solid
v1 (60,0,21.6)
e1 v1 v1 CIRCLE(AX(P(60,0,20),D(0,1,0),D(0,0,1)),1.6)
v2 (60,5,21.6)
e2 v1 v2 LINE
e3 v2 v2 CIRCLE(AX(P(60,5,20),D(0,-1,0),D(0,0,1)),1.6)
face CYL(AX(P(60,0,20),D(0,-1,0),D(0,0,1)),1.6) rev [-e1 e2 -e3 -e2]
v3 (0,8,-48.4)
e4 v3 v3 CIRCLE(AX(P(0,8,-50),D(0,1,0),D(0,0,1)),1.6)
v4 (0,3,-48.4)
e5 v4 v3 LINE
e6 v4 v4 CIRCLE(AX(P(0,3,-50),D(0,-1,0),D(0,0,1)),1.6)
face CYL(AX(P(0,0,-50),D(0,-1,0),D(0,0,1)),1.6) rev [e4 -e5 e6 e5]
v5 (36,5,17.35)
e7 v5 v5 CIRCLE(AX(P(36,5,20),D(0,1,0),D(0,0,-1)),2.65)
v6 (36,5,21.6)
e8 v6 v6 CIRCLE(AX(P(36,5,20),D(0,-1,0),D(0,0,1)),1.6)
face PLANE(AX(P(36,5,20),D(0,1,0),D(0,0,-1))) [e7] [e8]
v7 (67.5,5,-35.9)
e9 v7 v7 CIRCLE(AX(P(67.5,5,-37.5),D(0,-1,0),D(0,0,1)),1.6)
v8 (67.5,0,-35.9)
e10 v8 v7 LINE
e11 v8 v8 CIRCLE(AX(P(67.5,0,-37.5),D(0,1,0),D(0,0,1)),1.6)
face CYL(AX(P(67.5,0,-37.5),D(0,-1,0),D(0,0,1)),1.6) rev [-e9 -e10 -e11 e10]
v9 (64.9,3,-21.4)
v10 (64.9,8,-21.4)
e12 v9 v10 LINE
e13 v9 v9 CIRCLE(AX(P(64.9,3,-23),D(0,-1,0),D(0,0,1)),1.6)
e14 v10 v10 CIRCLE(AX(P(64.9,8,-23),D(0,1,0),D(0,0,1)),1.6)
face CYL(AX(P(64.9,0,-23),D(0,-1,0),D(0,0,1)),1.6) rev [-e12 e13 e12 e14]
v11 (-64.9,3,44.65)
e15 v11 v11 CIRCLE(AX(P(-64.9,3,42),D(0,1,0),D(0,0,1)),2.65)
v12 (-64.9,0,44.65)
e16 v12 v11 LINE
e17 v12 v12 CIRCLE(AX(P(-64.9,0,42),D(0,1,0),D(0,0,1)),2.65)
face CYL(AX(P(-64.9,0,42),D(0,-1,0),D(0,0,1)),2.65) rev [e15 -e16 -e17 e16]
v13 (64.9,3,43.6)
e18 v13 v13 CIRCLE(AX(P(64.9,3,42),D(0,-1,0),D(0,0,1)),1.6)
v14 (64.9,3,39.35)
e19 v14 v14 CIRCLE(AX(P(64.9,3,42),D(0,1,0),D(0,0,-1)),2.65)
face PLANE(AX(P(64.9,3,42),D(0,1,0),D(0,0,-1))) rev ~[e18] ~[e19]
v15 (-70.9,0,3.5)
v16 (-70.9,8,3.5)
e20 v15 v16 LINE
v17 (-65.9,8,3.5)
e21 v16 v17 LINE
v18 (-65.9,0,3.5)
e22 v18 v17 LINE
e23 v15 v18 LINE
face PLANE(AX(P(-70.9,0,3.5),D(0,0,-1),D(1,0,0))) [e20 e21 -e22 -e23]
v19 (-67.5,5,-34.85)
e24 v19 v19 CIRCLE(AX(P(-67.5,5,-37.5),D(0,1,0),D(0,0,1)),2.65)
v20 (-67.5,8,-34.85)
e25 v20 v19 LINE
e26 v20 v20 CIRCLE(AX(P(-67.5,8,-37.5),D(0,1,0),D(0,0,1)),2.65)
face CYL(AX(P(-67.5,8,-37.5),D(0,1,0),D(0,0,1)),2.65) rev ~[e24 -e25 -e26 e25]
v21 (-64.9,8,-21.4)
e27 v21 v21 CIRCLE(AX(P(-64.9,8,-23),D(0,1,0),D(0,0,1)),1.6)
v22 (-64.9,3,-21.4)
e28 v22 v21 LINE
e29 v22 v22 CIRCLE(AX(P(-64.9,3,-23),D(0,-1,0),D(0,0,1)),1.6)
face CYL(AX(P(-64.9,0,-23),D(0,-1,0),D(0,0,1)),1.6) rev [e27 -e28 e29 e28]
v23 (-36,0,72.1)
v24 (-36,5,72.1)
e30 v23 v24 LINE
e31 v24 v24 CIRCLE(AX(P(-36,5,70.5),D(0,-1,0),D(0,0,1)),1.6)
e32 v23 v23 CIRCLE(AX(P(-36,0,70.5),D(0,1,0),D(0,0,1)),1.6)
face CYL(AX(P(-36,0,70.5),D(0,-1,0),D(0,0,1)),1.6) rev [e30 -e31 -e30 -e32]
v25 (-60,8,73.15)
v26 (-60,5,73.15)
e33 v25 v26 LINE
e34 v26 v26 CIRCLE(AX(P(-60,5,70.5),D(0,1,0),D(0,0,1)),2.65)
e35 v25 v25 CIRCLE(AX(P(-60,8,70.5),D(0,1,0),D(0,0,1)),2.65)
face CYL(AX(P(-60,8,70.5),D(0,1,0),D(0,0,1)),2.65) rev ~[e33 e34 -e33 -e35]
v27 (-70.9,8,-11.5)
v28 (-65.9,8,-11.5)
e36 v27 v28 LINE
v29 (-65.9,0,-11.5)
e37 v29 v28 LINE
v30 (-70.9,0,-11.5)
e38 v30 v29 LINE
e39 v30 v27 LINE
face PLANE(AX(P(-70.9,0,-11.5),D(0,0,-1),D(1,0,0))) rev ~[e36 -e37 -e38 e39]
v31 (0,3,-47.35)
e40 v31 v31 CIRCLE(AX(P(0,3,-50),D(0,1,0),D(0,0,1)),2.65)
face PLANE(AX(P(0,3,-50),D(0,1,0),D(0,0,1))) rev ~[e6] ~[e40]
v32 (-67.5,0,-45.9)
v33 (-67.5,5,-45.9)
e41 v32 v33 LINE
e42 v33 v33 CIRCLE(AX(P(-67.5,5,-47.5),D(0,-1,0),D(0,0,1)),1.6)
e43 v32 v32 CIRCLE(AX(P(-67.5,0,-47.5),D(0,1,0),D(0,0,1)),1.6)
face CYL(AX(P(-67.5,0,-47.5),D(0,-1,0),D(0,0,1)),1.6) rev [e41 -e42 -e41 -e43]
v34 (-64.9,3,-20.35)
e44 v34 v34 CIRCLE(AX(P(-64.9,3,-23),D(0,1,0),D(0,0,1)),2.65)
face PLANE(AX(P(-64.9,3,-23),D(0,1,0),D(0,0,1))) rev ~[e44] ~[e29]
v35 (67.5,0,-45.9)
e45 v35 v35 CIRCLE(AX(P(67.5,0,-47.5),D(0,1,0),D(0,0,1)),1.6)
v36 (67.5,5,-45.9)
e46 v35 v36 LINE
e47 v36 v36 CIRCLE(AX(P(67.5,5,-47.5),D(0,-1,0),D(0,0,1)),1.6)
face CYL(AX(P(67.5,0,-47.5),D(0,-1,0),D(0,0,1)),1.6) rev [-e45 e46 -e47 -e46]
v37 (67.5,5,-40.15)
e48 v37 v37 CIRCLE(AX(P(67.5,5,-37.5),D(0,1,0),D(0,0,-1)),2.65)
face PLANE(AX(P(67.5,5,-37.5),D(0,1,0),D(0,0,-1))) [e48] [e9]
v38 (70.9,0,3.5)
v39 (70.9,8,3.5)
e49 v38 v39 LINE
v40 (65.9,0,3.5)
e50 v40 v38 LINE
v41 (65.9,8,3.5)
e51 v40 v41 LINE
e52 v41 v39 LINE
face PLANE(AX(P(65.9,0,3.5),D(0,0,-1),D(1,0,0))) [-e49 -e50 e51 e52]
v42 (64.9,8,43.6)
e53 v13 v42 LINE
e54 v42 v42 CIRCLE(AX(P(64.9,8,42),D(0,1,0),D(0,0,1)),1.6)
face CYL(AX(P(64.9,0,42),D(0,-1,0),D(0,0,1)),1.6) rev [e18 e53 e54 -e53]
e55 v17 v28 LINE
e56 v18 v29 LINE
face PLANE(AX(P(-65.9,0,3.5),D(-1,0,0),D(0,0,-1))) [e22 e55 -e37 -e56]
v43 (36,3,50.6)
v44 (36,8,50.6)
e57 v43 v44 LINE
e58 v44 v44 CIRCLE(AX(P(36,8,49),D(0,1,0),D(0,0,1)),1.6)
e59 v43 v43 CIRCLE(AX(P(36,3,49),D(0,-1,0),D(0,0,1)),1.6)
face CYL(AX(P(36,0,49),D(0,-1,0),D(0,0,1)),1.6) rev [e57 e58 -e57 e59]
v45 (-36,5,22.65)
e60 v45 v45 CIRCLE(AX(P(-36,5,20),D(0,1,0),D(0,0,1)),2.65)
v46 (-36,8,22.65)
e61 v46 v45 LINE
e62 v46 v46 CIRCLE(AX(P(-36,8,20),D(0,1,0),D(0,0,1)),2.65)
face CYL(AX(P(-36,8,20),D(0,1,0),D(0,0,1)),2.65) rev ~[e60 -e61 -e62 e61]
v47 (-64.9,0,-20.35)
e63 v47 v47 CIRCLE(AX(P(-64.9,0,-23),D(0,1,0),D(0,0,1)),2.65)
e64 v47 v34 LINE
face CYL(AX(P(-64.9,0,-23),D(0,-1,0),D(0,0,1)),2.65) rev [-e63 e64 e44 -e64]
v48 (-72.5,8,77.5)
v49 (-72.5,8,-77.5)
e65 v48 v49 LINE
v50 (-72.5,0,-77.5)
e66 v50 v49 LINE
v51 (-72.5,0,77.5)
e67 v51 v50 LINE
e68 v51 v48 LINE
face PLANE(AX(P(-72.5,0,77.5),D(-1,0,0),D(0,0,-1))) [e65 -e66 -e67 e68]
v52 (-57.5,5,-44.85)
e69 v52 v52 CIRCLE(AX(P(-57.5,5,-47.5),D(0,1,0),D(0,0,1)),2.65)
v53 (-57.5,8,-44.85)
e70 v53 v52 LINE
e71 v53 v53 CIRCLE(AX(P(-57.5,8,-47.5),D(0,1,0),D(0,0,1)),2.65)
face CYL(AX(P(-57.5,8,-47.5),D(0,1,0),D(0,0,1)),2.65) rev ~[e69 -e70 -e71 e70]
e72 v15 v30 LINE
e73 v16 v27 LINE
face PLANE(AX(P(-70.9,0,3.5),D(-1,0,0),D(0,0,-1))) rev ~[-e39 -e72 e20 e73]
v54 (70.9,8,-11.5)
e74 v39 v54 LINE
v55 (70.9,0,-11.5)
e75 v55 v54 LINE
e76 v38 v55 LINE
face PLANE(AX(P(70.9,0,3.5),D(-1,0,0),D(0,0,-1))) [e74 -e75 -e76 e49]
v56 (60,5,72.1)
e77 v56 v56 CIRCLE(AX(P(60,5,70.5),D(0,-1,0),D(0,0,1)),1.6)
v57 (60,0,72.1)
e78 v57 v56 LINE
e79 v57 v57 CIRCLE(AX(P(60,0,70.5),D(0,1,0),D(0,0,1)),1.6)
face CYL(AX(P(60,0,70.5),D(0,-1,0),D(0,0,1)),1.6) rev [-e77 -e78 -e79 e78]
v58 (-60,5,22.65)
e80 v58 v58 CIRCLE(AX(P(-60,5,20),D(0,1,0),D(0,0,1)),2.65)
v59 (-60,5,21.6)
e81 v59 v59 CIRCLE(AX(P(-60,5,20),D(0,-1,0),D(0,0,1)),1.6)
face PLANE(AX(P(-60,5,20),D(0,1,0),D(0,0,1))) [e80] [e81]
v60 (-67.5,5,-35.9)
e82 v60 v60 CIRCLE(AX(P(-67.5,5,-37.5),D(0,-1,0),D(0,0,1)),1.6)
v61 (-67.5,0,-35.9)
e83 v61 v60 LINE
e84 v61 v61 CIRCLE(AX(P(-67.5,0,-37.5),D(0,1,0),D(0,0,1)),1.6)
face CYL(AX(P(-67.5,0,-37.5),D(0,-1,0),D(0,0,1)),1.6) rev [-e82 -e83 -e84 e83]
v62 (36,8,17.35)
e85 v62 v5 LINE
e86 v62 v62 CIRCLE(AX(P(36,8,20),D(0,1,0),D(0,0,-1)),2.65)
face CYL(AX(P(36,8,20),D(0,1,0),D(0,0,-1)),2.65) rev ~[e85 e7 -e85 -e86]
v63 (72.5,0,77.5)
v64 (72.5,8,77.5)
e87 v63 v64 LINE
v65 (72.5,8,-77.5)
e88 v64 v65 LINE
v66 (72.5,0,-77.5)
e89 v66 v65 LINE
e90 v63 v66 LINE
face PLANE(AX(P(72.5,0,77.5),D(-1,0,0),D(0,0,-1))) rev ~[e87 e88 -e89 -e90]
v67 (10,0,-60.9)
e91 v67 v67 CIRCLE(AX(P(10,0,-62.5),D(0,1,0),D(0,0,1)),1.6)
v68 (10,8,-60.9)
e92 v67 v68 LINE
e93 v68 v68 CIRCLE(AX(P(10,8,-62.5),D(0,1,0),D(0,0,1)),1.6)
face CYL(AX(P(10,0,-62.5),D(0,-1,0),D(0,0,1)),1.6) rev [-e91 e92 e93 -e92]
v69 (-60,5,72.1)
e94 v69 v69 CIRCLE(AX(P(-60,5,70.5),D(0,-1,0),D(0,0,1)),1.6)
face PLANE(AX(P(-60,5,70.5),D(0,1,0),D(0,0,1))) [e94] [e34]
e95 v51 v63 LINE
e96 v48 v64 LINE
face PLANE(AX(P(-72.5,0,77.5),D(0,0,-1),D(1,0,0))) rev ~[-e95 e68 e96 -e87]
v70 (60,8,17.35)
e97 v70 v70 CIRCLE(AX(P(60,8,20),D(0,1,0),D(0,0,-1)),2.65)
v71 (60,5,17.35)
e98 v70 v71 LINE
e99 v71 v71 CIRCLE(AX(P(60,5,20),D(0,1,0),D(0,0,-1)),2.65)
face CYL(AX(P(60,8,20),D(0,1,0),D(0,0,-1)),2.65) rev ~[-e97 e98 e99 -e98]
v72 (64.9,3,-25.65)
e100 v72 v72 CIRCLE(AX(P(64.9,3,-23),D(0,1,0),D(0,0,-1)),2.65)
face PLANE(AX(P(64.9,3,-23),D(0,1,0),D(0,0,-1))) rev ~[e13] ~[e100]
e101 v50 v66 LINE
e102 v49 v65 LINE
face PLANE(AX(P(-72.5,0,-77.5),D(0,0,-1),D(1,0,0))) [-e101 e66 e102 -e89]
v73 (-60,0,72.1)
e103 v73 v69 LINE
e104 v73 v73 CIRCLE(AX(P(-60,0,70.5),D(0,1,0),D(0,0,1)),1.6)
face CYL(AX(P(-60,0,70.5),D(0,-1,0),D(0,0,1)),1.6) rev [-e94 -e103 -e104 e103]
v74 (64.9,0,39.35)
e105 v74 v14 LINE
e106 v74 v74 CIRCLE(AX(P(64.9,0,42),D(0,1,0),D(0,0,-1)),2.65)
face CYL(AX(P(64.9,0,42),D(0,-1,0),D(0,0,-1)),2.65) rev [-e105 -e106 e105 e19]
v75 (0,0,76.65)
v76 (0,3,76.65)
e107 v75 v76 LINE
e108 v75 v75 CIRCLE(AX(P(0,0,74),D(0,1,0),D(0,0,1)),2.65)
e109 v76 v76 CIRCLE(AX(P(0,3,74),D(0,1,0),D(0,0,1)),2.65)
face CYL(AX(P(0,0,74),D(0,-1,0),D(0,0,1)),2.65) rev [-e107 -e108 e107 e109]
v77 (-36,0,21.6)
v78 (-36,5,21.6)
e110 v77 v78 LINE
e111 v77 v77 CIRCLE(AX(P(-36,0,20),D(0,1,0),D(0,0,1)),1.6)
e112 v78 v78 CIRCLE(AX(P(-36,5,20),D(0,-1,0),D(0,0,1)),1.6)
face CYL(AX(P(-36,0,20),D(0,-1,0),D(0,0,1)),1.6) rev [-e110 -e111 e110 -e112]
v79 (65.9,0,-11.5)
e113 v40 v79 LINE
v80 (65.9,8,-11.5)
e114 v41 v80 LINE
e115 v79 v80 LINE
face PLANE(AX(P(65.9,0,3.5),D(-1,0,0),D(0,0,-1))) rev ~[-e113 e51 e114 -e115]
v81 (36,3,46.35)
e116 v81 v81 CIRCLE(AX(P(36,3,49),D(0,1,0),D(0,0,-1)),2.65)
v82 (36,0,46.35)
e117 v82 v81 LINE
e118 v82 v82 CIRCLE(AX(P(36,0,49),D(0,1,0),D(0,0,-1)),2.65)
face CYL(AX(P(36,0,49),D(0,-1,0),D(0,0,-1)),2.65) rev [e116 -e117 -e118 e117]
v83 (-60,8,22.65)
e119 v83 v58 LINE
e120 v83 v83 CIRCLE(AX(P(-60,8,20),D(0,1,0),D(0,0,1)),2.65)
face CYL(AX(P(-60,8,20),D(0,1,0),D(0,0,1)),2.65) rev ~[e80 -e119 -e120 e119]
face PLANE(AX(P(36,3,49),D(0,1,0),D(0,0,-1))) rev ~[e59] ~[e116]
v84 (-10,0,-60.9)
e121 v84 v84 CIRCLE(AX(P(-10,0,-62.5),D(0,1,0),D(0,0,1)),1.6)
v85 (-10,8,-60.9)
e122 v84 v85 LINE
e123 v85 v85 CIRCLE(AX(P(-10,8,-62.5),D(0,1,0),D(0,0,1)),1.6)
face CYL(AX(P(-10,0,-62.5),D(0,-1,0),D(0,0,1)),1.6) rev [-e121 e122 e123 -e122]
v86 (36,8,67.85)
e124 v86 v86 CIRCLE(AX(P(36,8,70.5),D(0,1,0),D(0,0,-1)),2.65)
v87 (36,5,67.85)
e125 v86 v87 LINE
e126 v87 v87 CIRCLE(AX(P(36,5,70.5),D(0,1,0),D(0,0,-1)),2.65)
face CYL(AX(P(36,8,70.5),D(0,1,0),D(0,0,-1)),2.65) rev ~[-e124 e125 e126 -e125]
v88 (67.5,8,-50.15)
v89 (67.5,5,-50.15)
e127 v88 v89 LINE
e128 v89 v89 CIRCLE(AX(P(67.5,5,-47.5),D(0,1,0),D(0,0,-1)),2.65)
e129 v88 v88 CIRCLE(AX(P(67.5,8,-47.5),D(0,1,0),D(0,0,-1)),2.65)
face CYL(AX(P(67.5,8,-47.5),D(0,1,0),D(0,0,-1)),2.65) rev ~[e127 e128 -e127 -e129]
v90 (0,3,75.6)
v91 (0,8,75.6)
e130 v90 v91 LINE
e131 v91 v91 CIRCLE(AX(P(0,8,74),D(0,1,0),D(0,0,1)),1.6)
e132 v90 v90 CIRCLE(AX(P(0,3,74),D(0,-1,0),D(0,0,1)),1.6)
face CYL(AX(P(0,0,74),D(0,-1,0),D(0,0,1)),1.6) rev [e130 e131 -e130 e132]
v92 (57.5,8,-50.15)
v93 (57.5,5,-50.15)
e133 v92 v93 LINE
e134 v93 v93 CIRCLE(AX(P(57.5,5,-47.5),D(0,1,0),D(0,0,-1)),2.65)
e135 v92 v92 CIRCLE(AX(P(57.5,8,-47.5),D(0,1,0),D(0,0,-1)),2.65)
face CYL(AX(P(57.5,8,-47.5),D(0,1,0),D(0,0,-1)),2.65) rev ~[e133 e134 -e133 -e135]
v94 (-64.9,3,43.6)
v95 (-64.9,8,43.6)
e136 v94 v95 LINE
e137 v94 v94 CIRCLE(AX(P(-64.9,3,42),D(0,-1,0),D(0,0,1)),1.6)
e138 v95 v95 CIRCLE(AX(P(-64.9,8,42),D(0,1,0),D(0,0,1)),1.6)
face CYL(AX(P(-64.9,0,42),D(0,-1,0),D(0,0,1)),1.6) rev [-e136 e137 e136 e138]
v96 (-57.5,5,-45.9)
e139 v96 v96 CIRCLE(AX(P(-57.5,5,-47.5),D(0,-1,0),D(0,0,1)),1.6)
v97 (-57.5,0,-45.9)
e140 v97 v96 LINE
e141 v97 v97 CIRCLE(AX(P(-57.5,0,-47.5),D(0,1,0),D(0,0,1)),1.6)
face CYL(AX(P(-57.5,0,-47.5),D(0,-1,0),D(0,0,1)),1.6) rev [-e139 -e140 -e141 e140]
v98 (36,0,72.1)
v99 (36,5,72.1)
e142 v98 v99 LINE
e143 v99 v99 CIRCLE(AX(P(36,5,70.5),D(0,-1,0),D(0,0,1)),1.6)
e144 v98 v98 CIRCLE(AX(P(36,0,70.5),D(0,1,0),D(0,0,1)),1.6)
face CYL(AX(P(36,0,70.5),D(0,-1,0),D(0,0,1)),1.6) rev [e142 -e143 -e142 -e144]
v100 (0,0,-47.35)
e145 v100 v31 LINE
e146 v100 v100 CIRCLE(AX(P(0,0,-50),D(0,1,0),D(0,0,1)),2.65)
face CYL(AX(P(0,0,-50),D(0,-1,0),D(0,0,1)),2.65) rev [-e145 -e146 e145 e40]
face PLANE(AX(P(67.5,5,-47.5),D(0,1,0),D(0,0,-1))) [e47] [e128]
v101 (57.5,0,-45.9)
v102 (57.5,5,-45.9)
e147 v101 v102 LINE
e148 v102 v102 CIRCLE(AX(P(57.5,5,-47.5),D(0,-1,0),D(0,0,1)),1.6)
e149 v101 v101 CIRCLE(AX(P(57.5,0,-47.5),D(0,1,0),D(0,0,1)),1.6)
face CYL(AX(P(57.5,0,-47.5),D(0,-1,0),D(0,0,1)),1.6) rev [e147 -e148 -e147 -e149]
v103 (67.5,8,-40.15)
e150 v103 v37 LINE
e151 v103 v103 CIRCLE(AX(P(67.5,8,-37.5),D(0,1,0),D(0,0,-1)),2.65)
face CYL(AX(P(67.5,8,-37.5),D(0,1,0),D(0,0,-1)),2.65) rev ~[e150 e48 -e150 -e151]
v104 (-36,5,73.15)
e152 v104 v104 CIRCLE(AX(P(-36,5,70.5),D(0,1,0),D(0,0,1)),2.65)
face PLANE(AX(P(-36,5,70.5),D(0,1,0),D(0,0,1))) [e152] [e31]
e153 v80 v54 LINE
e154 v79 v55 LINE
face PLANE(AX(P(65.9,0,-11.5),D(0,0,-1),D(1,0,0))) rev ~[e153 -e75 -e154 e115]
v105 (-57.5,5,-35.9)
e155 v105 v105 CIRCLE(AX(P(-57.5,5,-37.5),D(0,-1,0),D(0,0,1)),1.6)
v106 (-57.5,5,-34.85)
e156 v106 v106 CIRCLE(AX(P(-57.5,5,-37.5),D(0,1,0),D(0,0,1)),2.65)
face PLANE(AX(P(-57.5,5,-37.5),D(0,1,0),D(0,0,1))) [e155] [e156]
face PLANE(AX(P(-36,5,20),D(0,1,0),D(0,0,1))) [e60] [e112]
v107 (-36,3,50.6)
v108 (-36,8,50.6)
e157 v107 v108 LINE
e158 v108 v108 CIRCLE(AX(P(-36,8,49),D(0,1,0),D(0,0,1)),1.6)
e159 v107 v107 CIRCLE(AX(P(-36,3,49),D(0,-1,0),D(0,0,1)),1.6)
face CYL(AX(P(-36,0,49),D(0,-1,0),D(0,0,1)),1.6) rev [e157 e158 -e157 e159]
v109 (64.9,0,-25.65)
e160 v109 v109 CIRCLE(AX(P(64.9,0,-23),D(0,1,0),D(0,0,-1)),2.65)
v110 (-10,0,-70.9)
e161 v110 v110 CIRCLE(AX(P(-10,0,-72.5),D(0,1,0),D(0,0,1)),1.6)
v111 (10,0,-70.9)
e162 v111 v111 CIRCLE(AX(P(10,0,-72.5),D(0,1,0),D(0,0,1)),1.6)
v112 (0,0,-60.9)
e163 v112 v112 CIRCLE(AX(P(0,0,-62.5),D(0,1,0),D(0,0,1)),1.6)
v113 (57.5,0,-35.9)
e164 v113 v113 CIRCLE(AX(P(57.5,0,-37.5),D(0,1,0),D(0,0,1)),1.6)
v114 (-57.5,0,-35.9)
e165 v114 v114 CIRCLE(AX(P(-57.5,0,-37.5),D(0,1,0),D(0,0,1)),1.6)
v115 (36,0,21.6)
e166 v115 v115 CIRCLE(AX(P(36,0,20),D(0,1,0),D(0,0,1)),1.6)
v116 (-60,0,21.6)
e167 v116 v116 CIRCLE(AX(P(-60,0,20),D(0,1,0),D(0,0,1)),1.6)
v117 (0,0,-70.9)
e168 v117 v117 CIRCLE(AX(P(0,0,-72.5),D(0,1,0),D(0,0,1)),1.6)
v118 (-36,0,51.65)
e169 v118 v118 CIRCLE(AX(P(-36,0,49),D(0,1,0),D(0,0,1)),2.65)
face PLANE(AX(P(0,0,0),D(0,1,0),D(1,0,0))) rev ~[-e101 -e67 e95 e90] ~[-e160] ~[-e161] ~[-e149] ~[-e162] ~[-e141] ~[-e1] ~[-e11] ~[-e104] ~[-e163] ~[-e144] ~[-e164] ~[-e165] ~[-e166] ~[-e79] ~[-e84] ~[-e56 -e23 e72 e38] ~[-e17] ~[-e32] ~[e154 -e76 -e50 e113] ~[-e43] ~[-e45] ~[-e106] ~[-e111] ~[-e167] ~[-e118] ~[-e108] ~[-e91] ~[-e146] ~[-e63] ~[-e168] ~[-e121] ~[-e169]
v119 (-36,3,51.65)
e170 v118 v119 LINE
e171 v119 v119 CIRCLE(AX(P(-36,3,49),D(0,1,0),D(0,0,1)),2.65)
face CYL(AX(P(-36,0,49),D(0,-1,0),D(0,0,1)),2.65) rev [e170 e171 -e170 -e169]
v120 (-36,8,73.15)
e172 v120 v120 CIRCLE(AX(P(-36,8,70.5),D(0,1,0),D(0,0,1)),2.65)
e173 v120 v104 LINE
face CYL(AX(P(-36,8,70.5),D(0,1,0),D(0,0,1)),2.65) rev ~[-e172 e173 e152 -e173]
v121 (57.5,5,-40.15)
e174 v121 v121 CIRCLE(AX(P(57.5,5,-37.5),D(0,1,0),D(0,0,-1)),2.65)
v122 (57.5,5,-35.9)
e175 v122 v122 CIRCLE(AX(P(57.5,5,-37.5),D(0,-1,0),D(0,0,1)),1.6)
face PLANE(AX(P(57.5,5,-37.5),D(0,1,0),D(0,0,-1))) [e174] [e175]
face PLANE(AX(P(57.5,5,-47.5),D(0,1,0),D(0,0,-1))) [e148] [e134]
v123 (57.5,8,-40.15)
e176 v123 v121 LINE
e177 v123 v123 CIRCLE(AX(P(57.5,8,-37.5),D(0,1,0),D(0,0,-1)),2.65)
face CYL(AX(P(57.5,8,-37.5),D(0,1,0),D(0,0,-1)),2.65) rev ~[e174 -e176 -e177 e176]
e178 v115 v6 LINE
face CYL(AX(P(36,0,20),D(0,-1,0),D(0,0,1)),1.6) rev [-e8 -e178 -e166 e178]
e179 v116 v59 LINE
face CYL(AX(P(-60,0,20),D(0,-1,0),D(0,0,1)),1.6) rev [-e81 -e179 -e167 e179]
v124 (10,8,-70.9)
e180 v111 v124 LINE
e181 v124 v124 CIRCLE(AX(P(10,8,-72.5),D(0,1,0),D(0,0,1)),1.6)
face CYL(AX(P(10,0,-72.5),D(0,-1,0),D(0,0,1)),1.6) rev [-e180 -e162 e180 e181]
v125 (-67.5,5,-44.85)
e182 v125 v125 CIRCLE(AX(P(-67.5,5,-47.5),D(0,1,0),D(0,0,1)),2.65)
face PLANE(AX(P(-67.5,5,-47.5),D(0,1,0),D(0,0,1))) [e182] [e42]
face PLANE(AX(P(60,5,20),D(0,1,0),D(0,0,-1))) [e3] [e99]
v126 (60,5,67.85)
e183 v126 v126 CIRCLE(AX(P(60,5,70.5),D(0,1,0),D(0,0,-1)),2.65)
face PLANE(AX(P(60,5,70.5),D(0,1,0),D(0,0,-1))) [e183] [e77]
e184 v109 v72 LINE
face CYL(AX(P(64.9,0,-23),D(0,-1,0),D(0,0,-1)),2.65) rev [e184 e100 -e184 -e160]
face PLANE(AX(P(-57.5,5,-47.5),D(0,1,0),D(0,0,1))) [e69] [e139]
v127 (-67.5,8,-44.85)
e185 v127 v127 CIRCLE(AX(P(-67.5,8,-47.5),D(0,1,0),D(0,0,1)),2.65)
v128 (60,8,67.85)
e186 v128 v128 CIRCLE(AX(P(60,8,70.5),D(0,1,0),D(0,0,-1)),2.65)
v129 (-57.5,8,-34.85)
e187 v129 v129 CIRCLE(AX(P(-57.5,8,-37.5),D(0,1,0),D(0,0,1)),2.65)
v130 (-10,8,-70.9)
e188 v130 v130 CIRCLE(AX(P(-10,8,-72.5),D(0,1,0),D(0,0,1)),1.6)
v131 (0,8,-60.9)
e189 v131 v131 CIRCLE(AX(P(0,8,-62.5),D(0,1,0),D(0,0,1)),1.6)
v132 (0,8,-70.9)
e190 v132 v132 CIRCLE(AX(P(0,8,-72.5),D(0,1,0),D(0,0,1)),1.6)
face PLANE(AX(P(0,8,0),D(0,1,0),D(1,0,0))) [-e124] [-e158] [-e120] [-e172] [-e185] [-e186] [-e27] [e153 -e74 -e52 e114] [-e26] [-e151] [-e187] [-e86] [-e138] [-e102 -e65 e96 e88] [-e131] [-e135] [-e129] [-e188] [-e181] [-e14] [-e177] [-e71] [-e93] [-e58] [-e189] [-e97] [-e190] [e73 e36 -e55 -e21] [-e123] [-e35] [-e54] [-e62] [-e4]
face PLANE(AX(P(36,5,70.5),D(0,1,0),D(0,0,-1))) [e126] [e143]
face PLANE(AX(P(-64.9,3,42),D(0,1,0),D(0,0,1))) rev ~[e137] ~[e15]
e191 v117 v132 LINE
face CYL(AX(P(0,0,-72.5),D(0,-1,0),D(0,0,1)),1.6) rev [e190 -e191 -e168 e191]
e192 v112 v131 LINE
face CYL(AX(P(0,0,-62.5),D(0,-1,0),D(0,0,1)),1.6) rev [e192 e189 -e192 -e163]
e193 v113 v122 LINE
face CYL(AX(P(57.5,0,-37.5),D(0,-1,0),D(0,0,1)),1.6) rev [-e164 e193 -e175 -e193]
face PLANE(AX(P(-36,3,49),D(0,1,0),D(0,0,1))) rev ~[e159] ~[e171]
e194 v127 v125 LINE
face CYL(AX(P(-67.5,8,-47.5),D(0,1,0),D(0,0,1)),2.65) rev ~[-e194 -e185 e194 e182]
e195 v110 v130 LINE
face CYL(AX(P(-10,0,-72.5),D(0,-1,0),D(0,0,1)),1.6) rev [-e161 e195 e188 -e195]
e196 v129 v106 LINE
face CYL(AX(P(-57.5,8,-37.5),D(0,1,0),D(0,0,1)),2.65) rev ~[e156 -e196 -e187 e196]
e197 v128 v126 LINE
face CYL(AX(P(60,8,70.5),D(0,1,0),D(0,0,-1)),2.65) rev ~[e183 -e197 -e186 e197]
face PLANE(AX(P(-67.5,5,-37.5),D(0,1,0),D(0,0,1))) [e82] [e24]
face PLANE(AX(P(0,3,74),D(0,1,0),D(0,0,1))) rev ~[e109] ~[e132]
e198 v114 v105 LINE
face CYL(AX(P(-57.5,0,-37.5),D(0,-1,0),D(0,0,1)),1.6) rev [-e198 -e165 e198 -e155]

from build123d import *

# Parameters (mm, degrees)
SKETCH1_W           = 145
SKETCH1_H           = 155
SKETCH1_R           = 1.6
SKETCH1_W_2         = 5
SKETCH1_H_2         = 15
BOSS_EXTRUDE1_DEPTH = 8
SKETCH2_R           = 2.65
CUT_EXTRUDE1_DEPTH  = 3
SKETCH3_R           = 2.65
CUT_EXTRUDE3_DEPTH  = 3


with BuildPart() as part:
    # Sketch1 → Boss-Extrude1 (new body)
    with BuildSketch(Plane(origin=(0, 0, 0), x_dir=(1, 0, 0), z_dir=(0, 1, 0))):
        Rectangle(SKETCH1_W, SKETCH1_H)
        with Locations(Location((-60, -70.5, 0), (0, 0, 270))):
            Circle(SKETCH1_R, mode=Mode.SUBTRACT)
        with Locations(Location((-36, -70.5, 0), (0, 0, 270))):
            Circle(SKETCH1_R, mode=Mode.SUBTRACT)
        with Locations(Location((-36, -20, 0), (0, 0, 270))):
            Circle(SKETCH1_R, mode=Mode.SUBTRACT)
        with Locations(Location((-60, -20, 0), (0, 0, 270))):
            Circle(SKETCH1_R, mode=Mode.SUBTRACT)
        with Locations(Location((60, -70.5, 0), (0, 0, 270))):
            Circle(SKETCH1_R, mode=Mode.SUBTRACT)
        with Locations(Location((36, -70.5, 0), (0, 0, 270))):
            Circle(SKETCH1_R, mode=Mode.SUBTRACT)
        with Locations(Location((36, -20, 0), (0, 0, 270))):
            Circle(SKETCH1_R, mode=Mode.SUBTRACT)
        with Locations(Location((60, -20, 0), (0, 0, 270))):
            Circle(SKETCH1_R, mode=Mode.SUBTRACT)
        with Locations(Location((-67.5, 47.5, 0), (0, 0, 270))):
            Circle(SKETCH1_R, mode=Mode.SUBTRACT)
        with Locations(Location((-57.5, 47.5, 0), (0, 0, 270))):
            Circle(SKETCH1_R, mode=Mode.SUBTRACT)
        with Locations(Location((-57.5, 37.5, 0), (0, 0, 270))):
            Circle(SKETCH1_R, mode=Mode.SUBTRACT)
        with Locations(Location((-67.5, 37.5, 0), (0, 0, 270))):
            Circle(SKETCH1_R, mode=Mode.SUBTRACT)
        with Locations(Location((67.5, 47.5, 0), (0, 0, 270))):
            Circle(SKETCH1_R, mode=Mode.SUBTRACT)
        with Locations(Location((57.5, 47.5, 0), (0, 0, 270))):
            Circle(SKETCH1_R, mode=Mode.SUBTRACT)
        with Locations(Location((57.5, 37.5, 0), (0, 0, 270))):
            Circle(SKETCH1_R, mode=Mode.SUBTRACT)
        with Locations(Location((67.5, 37.5, 0), (0, 0, 270))):
            Circle(SKETCH1_R, mode=Mode.SUBTRACT)
        with Locations(Location((0, -74, 0), (0, 0, 270))):
            Circle(SKETCH1_R, mode=Mode.SUBTRACT)
        with Locations(Location((36, -49, 0), (0, 0, 270))):
            Circle(SKETCH1_R, mode=Mode.SUBTRACT)
        with Locations(Location((-36, -49, 0), (0, 0, 270))):
            Circle(SKETCH1_R, mode=Mode.SUBTRACT)
        with Locations(Location((-64.9, -42, 0), (0, 0, 270))):
            Circle(SKETCH1_R, mode=Mode.SUBTRACT)
        with Locations(Location((-64.9, 23, 0), (0, 0, 270))):
            Circle(SKETCH1_R, mode=Mode.SUBTRACT)
        with Locations(Location((0, 50, 0), (0, 0, 270))):
            Circle(SKETCH1_R, mode=Mode.SUBTRACT)
        with Locations(Location((64.9, -42, 0), (0, 0, 270))):
            Circle(SKETCH1_R, mode=Mode.SUBTRACT)
        with Locations(Location((64.9, 23, 0), (0, 0, 270))):
            Circle(SKETCH1_R, mode=Mode.SUBTRACT)
        with Locations(Location((-10, 72.5, 0), (0, 0, 270))):
            Circle(SKETCH1_R, mode=Mode.SUBTRACT)
        with Locations(Location((0, 72.5, 0), (0, 0, 270))):
            Circle(SKETCH1_R, mode=Mode.SUBTRACT)
        with Locations(Location((10, 62.5, 0), (0, 0, 270))):
            Circle(SKETCH1_R, mode=Mode.SUBTRACT)
        with Locations(Location((0, 62.5, 0), (0, 0, 270))):
            Circle(SKETCH1_R, mode=Mode.SUBTRACT)
        with Locations(Location((-10, 62.5, 0), (0, 0, 270))):
            Circle(SKETCH1_R, mode=Mode.SUBTRACT)
        with Locations(Location((10, 72.5, 0), (0, 0, 270))):
            Circle(SKETCH1_R, mode=Mode.SUBTRACT)
        with Locations((-68.4, 4)):
            Rectangle(SKETCH1_W_2, SKETCH1_H_2, mode=Mode.SUBTRACT)
        with Locations((68.4, 4)):
            Rectangle(SKETCH1_W_2, SKETCH1_H_2, mode=Mode.SUBTRACT)
    extrude(amount=BOSS_EXTRUDE1_DEPTH)

    # Sketch2 → Cut-Extrude1 (cut)
    with BuildSketch(Plane(origin=(0, 8, 0), x_dir=(1, 0, 0), z_dir=(0, 1, 0))):
        with Locations(Location((-57.5, 47.5, 0), (0, 0, 270))):
            Circle(SKETCH2_R)
        with Locations(Location((-67.5, 47.5, 0), (0, 0, 270))):
            Circle(SKETCH2_R)
        with Locations(Location((-57.5, 37.5, 0), (0, 0, 270))):
            Circle(SKETCH2_R)
        with Locations(Location((-67.5, 37.5, 0), (0, 0, 270))):
            Circle(SKETCH2_R)
        with Locations(Location((67.5, 47.5, 0), (0, 0, 90))):
            Circle(SKETCH2_R)
        with Locations(Location((57.5, 47.5, 0), (0, 0, 90))):
            Circle(SKETCH2_R)
        with Locations(Location((57.5, 37.5, 0), (0, 0, 90))):
            Circle(SKETCH2_R)
        with Locations(Location((67.5, 37.5, 0), (0, 0, 90))):
            Circle(SKETCH2_R)
        with Locations(Location((-36, -70.5, 0), (0, 0, 270))):
            Circle(SKETCH2_R)
        with Locations(Location((-60, -70.5, 0), (0, 0, 270))):
            Circle(SKETCH2_R)
        with Locations(Location((-36, -20, 0), (0, 0, 270))):
            Circle(SKETCH2_R)
        with Locations(Location((-60, -20, 0), (0, 0, 270))):
            Circle(SKETCH2_R)
        with Locations(Location((36, -70.5, 0), (0, 0, 90))):
            Circle(SKETCH2_R)
        with Locations(Location((60, -70.5, 0), (0, 0, 90))):
            Circle(SKETCH2_R)
        with Locations(Location((36, -20, 0), (0, 0, 90))):
            Circle(SKETCH2_R)
        with Locations(Location((60, -20, 0), (0, 0, 90))):
            Circle(SKETCH2_R)
    extrude(amount=-CUT_EXTRUDE1_DEPTH, mode=Mode.SUBTRACT)

    # Sketch3 → Cut-Extrude3 (cut)
    with BuildSketch(Plane(origin=(0, 0, 0), x_dir=(1, 0, 0), z_dir=(0, 1, 0))):
        with Locations(Location((0, 50, 0), (0, 0, 270))):
            Circle(SKETCH3_R)
        with Locations(Location((-64.9, 23, 0), (0, 0, 270))):
            Circle(SKETCH3_R)
        with Locations(Location((-64.9, -42, 0), (0, 0, 270))):
            Circle(SKETCH3_R)
        with Locations(Location((-36, -49, 0), (0, 0, 270))):
            Circle(SKETCH3_R)
        with Locations(Location((0, -74, 0), (0, 0, 270))):
            Circle(SKETCH3_R)
        with Locations(Location((36, -49, 0), (0, 0, 90))):
            Circle(SKETCH3_R)
        with Locations(Location((64.9, -42, 0), (0, 0, 90))):
            Circle(SKETCH3_R)
        with Locations(Location((64.9, 23, 0), (0, 0, 90))):
            Circle(SKETCH3_R)
    extrude(amount=CUT_EXTRUDE3_DEPTH, mode=Mode.SUBTRACT)


solid = part.part
